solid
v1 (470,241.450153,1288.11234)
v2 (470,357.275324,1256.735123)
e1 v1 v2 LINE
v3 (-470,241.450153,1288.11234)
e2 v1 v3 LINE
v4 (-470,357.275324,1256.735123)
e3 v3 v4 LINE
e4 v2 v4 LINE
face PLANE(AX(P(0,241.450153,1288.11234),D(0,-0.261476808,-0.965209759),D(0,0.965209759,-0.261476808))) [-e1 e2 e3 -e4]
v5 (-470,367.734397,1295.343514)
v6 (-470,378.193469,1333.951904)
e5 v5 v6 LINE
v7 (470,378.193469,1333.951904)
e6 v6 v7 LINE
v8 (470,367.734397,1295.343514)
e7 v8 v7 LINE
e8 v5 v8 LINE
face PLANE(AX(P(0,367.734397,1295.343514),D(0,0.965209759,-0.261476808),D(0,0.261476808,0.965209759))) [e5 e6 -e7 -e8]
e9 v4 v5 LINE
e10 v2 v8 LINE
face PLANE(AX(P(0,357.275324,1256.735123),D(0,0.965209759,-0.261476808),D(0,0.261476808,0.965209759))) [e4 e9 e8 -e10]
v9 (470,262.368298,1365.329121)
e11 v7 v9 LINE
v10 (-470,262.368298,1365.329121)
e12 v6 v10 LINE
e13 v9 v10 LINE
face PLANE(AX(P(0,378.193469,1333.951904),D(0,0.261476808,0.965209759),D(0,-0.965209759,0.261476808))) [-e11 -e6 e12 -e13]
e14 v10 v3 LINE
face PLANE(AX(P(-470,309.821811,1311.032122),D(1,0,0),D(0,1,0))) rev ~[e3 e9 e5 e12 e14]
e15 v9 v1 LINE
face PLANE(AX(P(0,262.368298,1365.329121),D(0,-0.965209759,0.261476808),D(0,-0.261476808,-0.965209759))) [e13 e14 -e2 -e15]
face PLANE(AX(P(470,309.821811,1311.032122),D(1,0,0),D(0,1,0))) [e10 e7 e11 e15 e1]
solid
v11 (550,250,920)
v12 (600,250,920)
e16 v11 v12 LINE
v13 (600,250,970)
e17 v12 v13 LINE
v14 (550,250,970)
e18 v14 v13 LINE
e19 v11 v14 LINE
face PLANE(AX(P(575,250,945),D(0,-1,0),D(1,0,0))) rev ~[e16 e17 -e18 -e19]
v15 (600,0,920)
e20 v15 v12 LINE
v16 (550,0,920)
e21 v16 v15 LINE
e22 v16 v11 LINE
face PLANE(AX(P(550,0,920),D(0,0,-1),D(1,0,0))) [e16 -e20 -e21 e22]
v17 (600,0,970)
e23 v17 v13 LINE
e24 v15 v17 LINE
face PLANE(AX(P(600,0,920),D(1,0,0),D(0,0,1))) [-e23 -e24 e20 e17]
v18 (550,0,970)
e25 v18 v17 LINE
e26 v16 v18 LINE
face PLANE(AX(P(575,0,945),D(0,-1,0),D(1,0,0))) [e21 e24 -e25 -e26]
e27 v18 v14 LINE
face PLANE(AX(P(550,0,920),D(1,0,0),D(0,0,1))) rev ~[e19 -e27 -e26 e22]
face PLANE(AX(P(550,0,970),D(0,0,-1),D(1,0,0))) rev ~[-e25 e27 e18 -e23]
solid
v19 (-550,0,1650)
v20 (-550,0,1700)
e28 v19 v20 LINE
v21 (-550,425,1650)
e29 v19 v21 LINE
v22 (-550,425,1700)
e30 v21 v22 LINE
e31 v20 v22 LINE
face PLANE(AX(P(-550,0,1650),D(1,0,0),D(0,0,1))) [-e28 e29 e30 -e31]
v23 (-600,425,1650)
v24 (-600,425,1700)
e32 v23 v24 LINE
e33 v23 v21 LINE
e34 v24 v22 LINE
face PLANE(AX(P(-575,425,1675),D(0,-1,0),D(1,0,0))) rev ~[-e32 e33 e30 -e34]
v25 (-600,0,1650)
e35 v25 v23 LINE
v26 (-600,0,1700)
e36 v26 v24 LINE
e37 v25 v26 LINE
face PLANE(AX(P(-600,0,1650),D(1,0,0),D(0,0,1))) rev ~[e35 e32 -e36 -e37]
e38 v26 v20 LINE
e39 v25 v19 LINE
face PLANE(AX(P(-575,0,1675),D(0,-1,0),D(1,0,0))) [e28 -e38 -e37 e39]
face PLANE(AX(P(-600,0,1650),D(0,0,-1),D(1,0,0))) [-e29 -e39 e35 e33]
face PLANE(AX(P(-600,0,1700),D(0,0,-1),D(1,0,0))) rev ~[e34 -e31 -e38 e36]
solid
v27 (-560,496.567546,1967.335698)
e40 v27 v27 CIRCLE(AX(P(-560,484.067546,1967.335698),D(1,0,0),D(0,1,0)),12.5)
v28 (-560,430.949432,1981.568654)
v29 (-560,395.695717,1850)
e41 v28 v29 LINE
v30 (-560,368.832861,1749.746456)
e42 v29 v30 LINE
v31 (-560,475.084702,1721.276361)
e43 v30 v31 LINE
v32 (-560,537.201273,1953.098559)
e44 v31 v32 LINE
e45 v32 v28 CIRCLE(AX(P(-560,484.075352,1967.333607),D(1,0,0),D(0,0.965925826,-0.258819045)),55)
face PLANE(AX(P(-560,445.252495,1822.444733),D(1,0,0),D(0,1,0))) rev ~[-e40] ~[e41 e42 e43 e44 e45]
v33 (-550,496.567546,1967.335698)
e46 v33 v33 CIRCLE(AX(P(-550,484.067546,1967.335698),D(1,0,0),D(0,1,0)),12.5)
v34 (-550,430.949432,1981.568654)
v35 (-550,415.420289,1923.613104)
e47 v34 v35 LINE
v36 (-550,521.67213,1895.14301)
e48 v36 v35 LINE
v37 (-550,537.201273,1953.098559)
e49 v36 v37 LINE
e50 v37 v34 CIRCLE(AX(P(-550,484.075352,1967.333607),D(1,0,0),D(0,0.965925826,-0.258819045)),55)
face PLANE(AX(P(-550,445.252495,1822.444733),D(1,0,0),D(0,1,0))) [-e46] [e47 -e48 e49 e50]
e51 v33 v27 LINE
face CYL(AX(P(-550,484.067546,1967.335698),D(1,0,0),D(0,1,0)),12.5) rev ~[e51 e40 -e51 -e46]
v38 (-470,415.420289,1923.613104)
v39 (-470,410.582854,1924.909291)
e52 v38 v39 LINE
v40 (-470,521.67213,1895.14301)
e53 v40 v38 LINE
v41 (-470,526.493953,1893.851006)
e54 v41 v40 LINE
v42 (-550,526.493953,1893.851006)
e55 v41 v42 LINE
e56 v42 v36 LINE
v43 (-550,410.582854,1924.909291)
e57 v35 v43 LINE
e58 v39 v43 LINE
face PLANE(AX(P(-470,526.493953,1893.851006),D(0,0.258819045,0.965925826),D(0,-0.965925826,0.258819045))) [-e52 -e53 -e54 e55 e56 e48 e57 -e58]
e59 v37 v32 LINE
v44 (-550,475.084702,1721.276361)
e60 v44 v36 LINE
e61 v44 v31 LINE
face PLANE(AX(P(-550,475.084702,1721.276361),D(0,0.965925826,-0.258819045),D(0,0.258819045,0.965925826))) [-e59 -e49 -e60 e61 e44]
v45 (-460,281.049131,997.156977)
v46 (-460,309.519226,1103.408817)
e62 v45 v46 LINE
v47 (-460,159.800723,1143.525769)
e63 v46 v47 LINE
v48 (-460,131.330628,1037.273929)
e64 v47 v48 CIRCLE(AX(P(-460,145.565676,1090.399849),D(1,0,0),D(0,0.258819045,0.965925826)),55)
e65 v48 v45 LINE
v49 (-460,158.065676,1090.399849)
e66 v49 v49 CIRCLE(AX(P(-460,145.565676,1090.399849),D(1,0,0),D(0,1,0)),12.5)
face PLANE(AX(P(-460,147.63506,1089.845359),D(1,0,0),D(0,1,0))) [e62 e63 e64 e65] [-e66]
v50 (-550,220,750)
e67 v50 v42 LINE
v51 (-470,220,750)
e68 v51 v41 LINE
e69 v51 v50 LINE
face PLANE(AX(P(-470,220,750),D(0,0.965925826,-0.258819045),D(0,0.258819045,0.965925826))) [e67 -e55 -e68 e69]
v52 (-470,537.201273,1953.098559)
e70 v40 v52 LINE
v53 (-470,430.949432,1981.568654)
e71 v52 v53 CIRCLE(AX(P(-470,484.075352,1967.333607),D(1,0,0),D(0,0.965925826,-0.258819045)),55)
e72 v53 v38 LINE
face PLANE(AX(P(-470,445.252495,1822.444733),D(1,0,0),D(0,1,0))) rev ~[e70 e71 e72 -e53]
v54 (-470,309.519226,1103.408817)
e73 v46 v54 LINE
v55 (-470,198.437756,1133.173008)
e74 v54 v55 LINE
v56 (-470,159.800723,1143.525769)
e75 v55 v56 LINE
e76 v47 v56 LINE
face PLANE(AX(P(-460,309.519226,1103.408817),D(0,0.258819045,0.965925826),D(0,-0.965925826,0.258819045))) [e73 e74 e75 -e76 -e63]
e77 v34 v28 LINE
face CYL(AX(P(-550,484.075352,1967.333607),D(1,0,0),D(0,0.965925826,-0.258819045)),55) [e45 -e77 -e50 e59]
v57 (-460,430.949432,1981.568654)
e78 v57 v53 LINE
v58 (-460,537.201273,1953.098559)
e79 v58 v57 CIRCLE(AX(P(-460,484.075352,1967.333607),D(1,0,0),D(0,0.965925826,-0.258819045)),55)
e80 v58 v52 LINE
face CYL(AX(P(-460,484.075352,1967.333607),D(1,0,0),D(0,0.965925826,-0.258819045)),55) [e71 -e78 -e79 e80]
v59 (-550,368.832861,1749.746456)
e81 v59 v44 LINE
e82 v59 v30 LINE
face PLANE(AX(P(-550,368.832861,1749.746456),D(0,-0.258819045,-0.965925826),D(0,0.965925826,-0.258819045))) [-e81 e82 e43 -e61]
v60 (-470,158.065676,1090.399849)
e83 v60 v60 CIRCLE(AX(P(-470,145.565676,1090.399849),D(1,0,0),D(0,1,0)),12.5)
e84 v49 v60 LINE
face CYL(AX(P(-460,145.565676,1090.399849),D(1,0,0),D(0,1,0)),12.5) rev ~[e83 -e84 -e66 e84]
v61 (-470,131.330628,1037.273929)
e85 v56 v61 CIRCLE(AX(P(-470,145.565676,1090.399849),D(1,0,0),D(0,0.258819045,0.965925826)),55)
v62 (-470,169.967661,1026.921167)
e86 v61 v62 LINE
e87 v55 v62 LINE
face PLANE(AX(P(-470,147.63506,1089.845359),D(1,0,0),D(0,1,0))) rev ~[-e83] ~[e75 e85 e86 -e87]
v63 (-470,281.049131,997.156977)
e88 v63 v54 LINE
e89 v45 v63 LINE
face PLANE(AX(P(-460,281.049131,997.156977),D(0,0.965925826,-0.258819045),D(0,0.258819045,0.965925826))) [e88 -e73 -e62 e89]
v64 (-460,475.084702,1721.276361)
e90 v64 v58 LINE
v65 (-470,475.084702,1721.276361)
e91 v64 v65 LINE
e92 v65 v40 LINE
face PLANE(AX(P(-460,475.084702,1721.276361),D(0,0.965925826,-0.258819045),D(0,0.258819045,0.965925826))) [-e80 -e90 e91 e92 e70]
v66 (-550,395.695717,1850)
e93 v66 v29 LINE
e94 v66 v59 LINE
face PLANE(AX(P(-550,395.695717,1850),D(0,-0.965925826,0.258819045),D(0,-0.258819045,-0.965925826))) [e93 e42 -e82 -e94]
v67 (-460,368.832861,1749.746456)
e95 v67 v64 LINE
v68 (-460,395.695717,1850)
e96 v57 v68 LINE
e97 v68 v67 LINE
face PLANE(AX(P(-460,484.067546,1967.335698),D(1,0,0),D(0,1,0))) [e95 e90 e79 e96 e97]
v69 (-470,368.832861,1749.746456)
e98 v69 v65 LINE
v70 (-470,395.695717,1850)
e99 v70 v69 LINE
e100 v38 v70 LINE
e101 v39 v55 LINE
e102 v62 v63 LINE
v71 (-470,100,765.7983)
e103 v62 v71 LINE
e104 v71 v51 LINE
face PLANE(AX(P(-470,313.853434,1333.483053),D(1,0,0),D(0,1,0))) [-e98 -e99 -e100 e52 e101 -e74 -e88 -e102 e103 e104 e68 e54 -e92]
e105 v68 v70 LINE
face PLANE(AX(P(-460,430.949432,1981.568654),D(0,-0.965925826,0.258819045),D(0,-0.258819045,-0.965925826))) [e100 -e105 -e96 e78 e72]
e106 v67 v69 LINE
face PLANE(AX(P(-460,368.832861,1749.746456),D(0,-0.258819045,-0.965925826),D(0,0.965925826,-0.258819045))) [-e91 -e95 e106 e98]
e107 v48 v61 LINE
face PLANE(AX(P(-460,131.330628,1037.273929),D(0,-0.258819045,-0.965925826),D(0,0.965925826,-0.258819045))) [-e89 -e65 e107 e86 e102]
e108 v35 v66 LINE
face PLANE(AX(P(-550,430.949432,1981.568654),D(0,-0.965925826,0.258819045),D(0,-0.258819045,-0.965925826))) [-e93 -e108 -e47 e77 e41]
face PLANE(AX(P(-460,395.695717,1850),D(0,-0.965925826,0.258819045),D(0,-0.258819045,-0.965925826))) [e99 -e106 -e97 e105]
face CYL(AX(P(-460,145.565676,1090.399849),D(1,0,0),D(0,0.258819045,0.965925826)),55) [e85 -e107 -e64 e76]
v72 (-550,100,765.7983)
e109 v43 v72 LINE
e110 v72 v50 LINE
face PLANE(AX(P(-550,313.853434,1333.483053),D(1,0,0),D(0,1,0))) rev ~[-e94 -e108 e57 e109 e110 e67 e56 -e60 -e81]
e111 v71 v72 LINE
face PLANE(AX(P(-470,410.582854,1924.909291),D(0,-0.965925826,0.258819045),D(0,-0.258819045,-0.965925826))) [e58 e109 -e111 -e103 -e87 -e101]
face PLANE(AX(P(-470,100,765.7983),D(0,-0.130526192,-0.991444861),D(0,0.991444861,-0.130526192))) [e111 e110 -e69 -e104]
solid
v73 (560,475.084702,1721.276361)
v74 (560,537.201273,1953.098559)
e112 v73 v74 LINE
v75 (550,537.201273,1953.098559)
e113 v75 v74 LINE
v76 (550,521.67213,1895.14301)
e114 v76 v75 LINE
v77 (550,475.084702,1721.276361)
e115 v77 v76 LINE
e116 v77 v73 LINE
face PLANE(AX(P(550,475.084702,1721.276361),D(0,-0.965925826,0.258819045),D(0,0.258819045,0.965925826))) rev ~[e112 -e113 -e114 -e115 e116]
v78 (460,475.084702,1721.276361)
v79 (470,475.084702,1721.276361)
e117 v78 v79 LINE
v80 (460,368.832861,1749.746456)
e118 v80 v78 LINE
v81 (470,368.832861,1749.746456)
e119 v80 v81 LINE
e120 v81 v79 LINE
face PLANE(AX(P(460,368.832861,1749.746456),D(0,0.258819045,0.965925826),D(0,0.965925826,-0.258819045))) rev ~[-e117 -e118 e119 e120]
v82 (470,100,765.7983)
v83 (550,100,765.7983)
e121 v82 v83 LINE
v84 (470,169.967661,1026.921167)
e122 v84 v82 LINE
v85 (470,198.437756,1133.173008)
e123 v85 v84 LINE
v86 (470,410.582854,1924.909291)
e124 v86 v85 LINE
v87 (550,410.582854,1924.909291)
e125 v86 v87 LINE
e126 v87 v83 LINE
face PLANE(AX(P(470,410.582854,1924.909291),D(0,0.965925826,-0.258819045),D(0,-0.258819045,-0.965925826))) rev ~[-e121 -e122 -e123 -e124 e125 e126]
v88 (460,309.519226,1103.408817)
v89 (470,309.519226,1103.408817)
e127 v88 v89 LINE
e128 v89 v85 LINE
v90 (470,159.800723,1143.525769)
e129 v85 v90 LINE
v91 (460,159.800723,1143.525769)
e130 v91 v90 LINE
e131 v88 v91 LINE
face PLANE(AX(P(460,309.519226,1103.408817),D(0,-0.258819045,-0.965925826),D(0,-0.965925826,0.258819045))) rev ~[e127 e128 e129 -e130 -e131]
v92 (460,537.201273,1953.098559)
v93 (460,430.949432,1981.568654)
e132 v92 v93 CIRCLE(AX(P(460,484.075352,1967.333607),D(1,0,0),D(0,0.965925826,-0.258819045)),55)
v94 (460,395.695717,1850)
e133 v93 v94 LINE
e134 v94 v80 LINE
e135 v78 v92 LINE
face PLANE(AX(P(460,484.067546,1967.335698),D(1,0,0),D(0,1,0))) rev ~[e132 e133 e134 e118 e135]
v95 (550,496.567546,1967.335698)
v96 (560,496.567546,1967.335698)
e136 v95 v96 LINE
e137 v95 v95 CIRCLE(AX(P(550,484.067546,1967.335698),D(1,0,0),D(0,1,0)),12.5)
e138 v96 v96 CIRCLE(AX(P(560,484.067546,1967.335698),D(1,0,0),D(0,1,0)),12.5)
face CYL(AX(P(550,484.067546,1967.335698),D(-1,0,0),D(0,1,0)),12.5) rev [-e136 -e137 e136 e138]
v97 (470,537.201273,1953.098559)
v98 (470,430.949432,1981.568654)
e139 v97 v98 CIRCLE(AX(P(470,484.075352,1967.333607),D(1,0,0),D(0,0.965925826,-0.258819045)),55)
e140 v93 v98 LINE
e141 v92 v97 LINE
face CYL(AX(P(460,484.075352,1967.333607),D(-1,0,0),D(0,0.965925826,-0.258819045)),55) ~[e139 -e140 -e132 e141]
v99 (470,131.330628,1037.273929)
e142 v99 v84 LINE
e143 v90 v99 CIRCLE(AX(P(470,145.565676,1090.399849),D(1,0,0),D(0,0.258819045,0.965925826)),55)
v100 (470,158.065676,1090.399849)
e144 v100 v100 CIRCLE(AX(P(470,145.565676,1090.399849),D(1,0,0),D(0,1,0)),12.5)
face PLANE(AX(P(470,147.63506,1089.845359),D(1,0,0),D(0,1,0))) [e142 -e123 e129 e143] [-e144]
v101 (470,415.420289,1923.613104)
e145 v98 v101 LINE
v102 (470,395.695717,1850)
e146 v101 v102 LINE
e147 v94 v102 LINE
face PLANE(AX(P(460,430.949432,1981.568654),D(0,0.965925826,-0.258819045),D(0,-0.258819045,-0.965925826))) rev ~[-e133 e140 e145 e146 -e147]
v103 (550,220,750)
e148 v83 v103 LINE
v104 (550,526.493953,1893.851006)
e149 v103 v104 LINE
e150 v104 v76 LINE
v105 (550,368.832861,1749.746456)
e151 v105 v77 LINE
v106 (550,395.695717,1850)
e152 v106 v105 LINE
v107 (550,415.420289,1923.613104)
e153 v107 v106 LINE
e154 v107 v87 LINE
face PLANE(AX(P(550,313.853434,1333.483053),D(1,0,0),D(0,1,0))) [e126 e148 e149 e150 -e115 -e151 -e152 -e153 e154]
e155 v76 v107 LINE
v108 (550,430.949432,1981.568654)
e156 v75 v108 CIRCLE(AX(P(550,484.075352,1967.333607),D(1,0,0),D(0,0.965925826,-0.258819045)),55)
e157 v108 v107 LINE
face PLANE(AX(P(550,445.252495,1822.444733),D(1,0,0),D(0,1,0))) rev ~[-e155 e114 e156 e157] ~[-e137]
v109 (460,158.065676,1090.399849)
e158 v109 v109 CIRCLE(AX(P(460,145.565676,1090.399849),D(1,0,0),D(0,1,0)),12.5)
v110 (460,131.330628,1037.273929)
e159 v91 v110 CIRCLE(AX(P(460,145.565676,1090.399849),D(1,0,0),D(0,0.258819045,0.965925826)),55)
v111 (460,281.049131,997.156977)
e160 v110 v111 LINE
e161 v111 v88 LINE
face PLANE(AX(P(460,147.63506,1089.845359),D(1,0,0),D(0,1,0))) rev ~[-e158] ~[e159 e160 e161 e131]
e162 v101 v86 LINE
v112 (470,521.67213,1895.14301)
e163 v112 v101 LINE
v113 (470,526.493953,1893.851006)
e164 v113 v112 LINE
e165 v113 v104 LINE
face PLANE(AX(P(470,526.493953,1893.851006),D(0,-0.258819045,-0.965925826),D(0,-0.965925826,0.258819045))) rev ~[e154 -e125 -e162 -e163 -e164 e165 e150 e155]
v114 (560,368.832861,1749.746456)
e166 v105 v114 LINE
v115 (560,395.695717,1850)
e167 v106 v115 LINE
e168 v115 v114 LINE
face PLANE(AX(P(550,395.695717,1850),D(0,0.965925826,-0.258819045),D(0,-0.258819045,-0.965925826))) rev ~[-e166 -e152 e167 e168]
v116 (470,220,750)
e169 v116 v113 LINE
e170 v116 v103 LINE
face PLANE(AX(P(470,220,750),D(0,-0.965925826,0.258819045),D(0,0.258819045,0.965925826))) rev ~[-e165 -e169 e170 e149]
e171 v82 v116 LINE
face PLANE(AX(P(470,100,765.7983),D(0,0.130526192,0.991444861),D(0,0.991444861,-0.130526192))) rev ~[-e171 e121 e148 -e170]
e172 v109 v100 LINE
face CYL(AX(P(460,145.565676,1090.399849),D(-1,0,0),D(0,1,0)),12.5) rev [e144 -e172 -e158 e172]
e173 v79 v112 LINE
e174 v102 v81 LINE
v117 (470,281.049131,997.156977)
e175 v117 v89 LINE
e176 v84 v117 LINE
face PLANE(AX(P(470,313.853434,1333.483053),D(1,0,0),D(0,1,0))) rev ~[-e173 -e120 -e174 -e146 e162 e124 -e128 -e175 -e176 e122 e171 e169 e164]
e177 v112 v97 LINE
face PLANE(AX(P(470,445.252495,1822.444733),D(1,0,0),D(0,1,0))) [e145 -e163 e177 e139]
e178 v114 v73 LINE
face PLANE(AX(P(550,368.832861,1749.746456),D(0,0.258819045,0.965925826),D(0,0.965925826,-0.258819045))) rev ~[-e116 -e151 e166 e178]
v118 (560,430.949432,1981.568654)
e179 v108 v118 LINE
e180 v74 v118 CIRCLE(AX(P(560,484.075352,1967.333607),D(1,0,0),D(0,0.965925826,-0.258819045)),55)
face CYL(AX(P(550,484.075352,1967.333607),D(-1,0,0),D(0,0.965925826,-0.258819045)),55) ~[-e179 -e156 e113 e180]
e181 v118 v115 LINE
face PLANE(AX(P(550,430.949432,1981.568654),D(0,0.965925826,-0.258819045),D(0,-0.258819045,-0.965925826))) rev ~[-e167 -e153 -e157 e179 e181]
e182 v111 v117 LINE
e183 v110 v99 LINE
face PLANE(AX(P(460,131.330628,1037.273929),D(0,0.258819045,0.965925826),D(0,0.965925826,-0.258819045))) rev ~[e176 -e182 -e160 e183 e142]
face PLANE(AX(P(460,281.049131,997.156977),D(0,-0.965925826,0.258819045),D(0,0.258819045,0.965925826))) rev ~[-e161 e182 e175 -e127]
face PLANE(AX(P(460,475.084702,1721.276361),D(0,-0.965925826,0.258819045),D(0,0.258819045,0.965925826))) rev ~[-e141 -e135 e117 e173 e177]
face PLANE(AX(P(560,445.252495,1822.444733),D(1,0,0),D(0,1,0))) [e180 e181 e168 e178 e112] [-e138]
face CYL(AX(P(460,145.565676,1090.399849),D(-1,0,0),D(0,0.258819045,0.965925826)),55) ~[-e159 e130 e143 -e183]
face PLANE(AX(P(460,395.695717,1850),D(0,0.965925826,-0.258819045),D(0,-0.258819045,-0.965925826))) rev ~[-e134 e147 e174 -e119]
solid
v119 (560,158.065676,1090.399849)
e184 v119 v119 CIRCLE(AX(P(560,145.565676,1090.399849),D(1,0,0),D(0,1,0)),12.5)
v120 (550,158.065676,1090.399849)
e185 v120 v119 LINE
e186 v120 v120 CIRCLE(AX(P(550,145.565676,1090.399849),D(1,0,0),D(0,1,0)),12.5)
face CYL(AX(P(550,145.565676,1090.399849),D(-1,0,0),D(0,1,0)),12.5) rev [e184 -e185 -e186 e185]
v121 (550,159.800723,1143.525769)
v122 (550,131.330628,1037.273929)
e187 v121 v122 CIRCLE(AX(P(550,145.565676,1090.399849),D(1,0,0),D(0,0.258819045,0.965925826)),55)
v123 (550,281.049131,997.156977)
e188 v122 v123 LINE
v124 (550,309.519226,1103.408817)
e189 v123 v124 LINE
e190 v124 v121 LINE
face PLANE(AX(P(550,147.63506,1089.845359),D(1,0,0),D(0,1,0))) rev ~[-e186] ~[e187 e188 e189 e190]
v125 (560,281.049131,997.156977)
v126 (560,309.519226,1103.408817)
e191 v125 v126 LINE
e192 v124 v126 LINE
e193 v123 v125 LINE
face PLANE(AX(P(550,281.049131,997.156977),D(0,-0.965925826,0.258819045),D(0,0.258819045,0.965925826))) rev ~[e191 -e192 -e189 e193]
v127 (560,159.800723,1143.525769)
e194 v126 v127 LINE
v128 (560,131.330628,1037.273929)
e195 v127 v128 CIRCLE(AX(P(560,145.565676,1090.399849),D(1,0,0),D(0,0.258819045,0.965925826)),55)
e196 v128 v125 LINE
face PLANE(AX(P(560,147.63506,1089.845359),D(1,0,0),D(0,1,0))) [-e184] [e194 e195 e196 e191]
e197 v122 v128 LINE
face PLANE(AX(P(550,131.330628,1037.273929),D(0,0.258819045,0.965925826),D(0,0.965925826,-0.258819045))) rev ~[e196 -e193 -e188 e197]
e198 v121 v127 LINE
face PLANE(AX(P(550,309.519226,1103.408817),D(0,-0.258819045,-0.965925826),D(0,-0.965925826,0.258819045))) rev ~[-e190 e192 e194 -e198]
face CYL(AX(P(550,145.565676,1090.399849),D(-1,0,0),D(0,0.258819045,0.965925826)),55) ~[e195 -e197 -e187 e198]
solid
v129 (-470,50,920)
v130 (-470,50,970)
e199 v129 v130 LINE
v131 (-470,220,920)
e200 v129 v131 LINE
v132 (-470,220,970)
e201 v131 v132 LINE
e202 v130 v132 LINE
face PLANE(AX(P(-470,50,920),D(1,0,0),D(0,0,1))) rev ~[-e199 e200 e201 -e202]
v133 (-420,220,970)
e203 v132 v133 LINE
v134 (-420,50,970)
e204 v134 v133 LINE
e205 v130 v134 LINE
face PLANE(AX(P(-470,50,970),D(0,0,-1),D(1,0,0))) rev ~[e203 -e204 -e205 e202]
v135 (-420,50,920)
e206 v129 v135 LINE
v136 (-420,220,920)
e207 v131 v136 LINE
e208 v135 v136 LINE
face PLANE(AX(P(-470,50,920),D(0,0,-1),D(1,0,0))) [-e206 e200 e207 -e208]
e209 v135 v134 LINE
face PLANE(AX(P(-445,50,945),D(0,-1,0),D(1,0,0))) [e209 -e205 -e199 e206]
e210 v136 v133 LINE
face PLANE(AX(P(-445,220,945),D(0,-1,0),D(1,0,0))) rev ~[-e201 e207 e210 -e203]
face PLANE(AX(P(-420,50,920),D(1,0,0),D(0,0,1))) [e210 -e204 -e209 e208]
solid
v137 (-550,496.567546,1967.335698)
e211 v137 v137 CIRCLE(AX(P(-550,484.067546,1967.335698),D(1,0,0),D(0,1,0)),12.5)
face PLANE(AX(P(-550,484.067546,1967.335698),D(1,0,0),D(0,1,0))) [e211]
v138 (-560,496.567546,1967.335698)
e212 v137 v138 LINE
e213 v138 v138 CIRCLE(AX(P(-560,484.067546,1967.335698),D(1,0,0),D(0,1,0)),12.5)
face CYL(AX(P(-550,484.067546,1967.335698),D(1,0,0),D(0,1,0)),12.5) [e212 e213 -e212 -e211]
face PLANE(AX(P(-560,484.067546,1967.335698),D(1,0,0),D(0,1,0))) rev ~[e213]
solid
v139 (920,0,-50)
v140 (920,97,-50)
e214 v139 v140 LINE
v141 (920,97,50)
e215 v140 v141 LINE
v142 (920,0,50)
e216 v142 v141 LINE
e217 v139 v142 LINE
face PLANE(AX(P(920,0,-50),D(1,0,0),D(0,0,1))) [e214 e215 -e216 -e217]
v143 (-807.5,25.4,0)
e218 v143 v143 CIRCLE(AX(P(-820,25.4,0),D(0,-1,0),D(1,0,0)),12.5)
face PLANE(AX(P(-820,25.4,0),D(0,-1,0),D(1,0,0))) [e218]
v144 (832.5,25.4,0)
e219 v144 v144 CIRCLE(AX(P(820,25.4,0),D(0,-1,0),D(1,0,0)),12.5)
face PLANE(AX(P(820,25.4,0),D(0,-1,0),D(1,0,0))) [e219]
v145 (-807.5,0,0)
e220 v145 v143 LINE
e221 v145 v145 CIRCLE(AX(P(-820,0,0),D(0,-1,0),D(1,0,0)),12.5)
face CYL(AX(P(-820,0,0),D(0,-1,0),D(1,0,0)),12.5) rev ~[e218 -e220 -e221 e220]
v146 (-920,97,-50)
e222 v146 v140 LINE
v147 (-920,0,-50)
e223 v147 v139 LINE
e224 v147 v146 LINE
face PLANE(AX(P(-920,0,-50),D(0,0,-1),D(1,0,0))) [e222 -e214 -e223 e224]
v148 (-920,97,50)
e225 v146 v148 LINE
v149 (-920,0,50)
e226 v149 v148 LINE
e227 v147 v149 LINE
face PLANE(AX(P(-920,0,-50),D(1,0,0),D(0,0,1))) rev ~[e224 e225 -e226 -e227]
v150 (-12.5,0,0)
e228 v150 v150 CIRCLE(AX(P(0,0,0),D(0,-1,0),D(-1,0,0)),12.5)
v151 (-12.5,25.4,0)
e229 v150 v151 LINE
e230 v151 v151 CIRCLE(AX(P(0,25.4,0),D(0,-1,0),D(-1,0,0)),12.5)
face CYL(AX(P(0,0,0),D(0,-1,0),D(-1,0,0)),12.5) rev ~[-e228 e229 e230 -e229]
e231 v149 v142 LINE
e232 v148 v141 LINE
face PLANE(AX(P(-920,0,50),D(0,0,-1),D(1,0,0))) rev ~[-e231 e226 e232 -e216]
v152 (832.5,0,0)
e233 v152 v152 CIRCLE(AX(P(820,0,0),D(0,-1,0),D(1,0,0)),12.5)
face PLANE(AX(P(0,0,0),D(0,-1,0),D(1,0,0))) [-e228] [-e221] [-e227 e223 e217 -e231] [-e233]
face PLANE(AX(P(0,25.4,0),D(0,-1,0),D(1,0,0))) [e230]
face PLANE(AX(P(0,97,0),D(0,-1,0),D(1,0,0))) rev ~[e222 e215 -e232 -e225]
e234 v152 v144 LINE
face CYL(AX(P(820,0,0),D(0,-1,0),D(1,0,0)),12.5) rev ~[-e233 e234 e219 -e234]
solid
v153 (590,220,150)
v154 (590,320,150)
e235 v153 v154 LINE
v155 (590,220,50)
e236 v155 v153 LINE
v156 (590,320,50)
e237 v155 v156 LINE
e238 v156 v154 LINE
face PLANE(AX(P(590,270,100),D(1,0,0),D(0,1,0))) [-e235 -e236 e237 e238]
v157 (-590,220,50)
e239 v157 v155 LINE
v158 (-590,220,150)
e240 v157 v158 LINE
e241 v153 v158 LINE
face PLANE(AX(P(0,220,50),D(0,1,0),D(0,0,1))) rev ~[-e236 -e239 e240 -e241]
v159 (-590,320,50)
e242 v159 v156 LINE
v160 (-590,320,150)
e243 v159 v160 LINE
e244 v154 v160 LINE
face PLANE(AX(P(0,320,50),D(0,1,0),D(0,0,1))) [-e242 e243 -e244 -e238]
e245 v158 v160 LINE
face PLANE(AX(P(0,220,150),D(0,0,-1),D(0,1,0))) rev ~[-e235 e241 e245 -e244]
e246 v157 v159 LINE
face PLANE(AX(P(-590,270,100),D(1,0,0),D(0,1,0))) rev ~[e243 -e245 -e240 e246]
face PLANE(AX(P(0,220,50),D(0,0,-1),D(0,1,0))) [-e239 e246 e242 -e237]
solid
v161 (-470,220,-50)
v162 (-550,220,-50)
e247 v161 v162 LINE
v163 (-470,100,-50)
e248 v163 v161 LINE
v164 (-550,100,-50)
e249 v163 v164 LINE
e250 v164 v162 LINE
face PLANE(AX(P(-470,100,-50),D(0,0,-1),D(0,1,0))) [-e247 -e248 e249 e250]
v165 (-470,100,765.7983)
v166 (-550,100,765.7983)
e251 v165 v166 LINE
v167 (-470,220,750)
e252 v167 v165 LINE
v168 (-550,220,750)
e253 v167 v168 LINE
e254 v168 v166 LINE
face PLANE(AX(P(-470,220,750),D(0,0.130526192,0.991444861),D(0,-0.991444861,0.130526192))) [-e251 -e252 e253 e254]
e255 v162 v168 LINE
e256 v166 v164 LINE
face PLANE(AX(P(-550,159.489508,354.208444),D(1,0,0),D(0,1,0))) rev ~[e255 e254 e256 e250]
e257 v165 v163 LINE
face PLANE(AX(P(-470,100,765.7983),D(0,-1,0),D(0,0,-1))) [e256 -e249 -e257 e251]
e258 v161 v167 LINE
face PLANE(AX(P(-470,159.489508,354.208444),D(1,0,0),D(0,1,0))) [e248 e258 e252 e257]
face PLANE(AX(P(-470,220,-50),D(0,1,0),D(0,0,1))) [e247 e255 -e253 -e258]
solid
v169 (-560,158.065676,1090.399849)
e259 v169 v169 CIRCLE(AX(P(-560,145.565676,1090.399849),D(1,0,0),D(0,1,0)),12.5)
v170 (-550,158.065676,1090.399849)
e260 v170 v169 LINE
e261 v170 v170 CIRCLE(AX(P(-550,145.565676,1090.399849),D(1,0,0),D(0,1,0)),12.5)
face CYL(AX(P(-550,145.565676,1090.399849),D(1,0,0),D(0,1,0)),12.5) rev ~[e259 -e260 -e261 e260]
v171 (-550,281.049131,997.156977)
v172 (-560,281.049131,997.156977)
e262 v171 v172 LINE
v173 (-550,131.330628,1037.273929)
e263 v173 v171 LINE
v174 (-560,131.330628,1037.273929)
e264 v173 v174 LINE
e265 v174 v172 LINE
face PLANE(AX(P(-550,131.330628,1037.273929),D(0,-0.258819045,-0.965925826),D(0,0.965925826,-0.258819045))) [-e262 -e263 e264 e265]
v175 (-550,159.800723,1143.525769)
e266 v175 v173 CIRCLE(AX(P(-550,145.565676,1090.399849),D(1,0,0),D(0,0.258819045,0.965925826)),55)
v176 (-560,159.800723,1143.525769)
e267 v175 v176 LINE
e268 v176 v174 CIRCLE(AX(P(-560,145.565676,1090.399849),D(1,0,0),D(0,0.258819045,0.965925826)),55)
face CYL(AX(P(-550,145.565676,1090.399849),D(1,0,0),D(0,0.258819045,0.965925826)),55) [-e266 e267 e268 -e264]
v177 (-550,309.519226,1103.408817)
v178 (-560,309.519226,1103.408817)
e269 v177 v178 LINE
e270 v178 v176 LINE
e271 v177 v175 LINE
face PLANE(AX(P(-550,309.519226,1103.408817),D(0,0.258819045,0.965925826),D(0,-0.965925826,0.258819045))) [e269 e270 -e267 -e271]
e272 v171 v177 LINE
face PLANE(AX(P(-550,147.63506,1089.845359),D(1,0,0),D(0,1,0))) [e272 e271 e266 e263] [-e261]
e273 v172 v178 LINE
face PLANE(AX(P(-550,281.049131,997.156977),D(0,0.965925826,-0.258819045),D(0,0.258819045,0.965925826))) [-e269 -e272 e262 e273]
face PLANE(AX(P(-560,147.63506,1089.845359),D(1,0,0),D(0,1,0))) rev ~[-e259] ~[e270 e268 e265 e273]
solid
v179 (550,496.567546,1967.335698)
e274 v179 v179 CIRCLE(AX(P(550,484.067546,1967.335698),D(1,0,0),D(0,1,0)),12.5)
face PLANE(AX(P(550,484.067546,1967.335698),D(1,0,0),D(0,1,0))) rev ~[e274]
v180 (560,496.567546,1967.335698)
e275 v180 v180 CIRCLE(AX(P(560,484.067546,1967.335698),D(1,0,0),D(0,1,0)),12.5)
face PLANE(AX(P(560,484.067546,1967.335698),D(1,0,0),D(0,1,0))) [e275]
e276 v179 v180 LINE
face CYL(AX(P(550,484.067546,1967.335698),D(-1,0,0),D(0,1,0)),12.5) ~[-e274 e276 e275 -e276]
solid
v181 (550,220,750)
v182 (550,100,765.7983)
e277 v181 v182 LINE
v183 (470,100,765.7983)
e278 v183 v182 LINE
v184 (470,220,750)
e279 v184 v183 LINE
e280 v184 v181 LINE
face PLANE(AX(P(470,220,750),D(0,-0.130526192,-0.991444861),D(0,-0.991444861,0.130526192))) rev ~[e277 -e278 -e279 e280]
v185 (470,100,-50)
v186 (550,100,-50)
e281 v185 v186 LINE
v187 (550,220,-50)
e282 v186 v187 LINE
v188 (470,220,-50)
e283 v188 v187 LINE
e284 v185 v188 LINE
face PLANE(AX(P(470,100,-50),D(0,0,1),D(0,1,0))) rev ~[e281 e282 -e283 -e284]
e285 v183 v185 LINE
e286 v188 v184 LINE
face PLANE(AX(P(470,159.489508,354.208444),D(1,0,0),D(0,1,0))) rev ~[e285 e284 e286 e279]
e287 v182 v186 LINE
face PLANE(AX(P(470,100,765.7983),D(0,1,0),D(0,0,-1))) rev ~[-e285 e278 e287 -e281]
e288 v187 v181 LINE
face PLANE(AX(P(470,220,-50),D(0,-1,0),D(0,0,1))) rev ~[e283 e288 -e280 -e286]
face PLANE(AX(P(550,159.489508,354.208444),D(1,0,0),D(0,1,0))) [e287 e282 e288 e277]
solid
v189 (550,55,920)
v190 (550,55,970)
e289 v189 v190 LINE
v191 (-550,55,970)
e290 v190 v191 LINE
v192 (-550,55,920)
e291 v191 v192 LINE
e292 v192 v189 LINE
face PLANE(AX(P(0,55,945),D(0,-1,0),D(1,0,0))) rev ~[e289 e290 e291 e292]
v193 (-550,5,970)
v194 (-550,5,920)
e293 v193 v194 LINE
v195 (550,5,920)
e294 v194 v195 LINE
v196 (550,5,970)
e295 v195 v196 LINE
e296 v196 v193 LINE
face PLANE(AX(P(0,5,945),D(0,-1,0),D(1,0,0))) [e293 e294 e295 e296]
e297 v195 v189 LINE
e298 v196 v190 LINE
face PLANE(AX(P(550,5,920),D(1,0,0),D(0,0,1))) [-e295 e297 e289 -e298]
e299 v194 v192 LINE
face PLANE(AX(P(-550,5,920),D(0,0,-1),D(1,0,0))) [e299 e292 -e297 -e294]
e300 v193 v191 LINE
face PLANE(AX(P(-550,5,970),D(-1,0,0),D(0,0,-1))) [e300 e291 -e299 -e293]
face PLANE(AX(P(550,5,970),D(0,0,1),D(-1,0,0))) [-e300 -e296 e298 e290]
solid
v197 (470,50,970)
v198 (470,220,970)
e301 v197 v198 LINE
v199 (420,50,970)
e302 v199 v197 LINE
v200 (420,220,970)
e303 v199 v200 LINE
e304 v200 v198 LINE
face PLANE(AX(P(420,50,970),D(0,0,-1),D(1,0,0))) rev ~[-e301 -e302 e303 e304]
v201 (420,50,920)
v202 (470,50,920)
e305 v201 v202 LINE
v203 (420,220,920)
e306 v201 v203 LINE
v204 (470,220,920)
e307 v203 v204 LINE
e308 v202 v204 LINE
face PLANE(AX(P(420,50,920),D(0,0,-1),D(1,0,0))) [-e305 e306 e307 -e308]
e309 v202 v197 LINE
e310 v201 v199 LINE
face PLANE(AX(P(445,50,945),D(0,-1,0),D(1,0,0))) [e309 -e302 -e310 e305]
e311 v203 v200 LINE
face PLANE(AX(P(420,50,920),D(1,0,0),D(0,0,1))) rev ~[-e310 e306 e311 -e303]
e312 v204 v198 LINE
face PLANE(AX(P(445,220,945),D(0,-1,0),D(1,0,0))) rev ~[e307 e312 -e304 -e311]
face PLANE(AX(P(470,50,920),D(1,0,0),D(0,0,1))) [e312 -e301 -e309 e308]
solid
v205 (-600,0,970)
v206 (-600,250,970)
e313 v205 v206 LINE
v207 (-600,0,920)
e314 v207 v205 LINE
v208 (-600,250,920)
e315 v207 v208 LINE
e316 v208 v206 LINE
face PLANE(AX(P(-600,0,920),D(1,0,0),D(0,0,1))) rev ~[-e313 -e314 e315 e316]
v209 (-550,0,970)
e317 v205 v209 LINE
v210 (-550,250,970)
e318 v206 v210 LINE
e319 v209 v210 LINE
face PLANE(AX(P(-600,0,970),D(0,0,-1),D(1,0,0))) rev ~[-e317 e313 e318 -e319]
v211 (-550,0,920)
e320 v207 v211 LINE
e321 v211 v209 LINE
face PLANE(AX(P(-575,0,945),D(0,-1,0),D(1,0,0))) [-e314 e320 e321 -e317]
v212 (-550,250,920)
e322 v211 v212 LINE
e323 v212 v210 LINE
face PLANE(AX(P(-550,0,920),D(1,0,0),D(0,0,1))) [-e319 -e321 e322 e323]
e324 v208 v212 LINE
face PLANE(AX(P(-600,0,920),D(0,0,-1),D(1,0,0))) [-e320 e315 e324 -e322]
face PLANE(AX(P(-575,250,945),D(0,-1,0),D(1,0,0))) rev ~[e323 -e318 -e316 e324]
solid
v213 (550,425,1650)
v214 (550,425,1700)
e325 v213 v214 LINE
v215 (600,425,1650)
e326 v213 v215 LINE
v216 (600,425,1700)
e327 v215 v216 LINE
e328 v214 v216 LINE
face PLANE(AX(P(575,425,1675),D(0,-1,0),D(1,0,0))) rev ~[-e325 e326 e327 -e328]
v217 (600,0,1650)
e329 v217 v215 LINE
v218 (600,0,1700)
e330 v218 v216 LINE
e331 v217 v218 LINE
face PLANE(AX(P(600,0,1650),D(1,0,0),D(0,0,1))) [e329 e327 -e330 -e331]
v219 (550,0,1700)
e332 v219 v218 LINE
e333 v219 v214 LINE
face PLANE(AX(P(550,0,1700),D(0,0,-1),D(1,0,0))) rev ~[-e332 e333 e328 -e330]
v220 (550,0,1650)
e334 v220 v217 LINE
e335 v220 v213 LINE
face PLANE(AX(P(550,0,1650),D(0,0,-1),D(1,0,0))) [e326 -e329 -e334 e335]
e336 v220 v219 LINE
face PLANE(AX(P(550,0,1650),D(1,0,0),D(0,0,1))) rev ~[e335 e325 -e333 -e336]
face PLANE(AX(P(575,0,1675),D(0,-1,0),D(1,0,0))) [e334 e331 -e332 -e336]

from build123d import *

# Parameters (mm, degrees)
F0_W           = 1840
F0_H           = 100
F3_DEPTH       = 97
F4_START       = -5
F4_DEPTH       = 50
F5_R           = 12.5
F6_DEPTH       = 25.4
F7_W           = 50
F7_H           = 50
F8_DEPTH       = 250
F10_START      = -50
F9_W           = 50
F9_H           = 50
F10_DEPTH      = 170
F2_W           = 50
F2_H           = 50
F11_DEPTH      = 425
F13_START      = 470
F13_DEPTH      = 80
F15_START      = -470
F15_DEPTH      = 80
F17_START      = 470
F17_DEPTH      = 80
F18_START      = -470
F18_DEPTH      = 80
F20_START      = 550
F19_R          = 12.5
F20_DEPTH      = 10
F21_START      = 460
F21_DEPTH      = 10
F22_START      = -550
F22_DEPTH      = 10
F23_START      = -460
F23_DEPTH      = 10
F25_W          = 100
F25_H          = 100
F26_DEPTH      = 590
F26_DEPTH_BACK = 590
F27_START      = 550
F24_R          = 12.5
F27_DEPTH      = 10
F28_START      = 460
F28_DEPTH      = 10
F29_START      = -550
F29_DEPTH      = 10
F30_START      = -460
F30_DEPTH      = 10
F32_DEPTH      = 470
F32_DEPTH_BACK = 470


with BuildPart() as f3:
    # F0 (on Front) → F3 (new body)
    with BuildSketch(Plane.XZ):
        Rectangle(F0_W, F0_H)
    extrude(amount=-F3_DEPTH)

    # F5 (on Front) → F6 (cut)
    with BuildSketch(Plane.XZ):
        with Locations((-820, 0)):
            Circle(F5_R)
        with BuildLine():
            ThreePointArc((12.5, 0), (0, 12.5), (-12.5, 0))
            ThreePointArc((-12.5, 0), (0, -12.5), (12.5, 0))
        make_face()
        with Locations((820, 0)):
            Circle(F5_R)
    extrude(amount=-F6_DEPTH, mode=Mode.SUBTRACT)


with BuildPart() as f4:
    # F1 (on Front) → F4 (new body)
    with BuildSketch(Plane.XZ.offset(F4_START)):
        Polygon((550, 970), (-550, 970), (-550, 920), (0, 920), (550, 920), align=None)
    extrude(amount=-F4_DEPTH)


with BuildPart() as f8:
    # F7 (on Front) → F8 (new body)
    with BuildSketch(Plane.XZ):
        with Locations((-575, 945)):
            Rectangle(F7_W, F7_H)
    extrude(amount=-F8_DEPTH)


with BuildPart() as f8b:
    # F7 (on Front) → F8, piece 2 (new body)
    with BuildSketch(Plane.XZ):
        with Locations((575, 945)):
            Rectangle(F7_W, F7_H)
    extrude(amount=-F8_DEPTH)


with BuildPart() as f10:
    # F9 (on Front) → F10 (new body)
    with BuildSketch(Plane.XZ.offset(F10_START)):
        with Locations((-445, 945)):
            Rectangle(F9_W, F9_H)
    extrude(amount=-F10_DEPTH)


with BuildPart() as f10b:
    # F9 (on Front) → F10, piece 2 (new body)
    with BuildSketch(Plane.XZ.offset(F10_START)):
        with Locations((445, 945)):
            Rectangle(F9_W, F9_H)
    extrude(amount=-F10_DEPTH)


with BuildPart() as f11:
    # F2 (on Front) → F11 (new body)
    with BuildSketch(Plane.XZ):
        with Locations((-575, 1675)):
            Rectangle(F2_W, F2_H)
    extrude(amount=-F11_DEPTH)


with BuildPart() as f11b:
    # F2 (on Front) → F11, piece 2 (new body)
    with BuildSketch(Plane.XZ):
        with Locations((575, 1675)):
            Rectangle(F2_W, F2_H)
    extrude(amount=-F11_DEPTH)


with BuildPart() as f13:
    # F12 (on Right) → F13 (new body)
    with BuildSketch(Plane.YZ.offset(F13_START)):
        Polygon((100, 750), (100, 0), (100, -50), (220, -50), (220, 0), (220, 750), (100, 765.7982997105), align=None)
    extrude(amount=F13_DEPTH)


with BuildPart() as f15:
    # F14 (on Right) → F15 (new body)
    with BuildSketch(Plane.YZ.offset(F15_START)):
        Polygon((220, -50), (220, 0), (220, 750), (100, 765.7982997105), (100, 750), (100, 0), (100, -50), align=None)
    extrude(amount=-F15_DEPTH)


with BuildPart() as f17:
    # F16 (on Right) → F17 (new body)
    with BuildSketch(Plane.YZ.offset(F17_START)):
        Polygon((100, 765.7982997105), (220, 750), (526.4939532777, 1893.8510058451), (410.582854123, 1924.9092912574), align=None)
    extrude(amount=F17_DEPTH)

    # F19 (on Right) → F20 (join)
    with BuildSketch(Plane.YZ.offset(F20_START)):
        Polygon((475.0847018168, 1721.2763607837), (521.6721299352, 1895.1430095157), (415.4202890434, 1923.613104477), (395.6957171464, 1850), (368.832860925, 1749.746455745), align=None)
        with BuildLine():
            Line((415.4202890434, 1923.613104477), (521.6721299352, 1895.1430095157))
            Line((521.6721299352, 1895.1430095157), (537.2012726414, 1953.0985590931))
            ThreePointArc((537.2012726414, 1953.0985590931), (498.3103996761, 2020.4595270196), (430.9494317496, 1981.5686540544))
            Line((430.9494317496, 1981.5686540544), (415.4202890434, 1923.613104477))
        make_face()
        with Locations((484.0675464065, 1967.3356981286)):
            Circle(F19_R, mode=Mode.SUBTRACT)
    extrude(amount=F20_DEPTH)

    # F19 (on Right) → F21 (join)
    with BuildSketch(Plane.YZ.offset(F21_START)):
        Polygon((475.0847018168, 1721.2763607837), (521.6721299352, 1895.1430095157), (415.4202890434, 1923.613104477), (395.6957171464, 1850), (368.832860925, 1749.746455745), align=None)
        with BuildLine():
            Line((415.4202890434, 1923.613104477), (521.6721299352, 1895.1430095157))
            Line((521.6721299352, 1895.1430095157), (537.2012726414, 1953.0985590931))
            ThreePointArc((537.2012726414, 1953.0985590931), (498.3103996761, 2020.4595270196), (430.9494317496, 1981.5686540544))
            Line((430.9494317496, 1981.5686540544), (415.4202890434, 1923.613104477))
        make_face()
        with Locations((484.0675464065, 1967.3356981286)):
            Circle(F19_R, mode=Mode.SUBTRACT)
    extrude(amount=F21_DEPTH)

    # F24 (on Right) → F28 (join)
    with BuildSketch(Plane.YZ.offset(F28_START)):
        with Locations((484.0675464065, 1967.3356981286)):
            Circle(F24_R)
        with BuildLine():
            Line((131.330628284, 1037.2739285056), (169.9676613355, 1026.9211667015))
            Line((169.9676613355, 1026.9211667015), (198.4377562968, 1133.1730075933))
            Line((198.4377562968, 1133.1730075933), (159.8007232453, 1143.5257693974))
            ThreePointArc((159.8007232453, 1143.5257693974), (92.4397553187, 1104.6348964321), (131.330628284, 1037.2739285056))
        make_face()
        with Locations((145.5656757646, 1090.3998489515)):
            Circle(F24_R, mode=Mode.SUBTRACT)
        Polygon((198.4377562968, 1133.1730075933), (169.9676613355, 1026.9211667015), (281.0491313588, 997.1569765147), (309.5192263201, 1103.4088174065), align=None)
    extrude(amount=F28_DEPTH)


with BuildPart() as f18:
    # F16 (on Right) → F18 (new body)
    with BuildSketch(Plane.YZ.offset(F18_START)):
        Polygon((100, 765.7982997105), (220, 750), (526.4939532777, 1893.8510058451), (410.582854123, 1924.9092912574), align=None)
    extrude(amount=-F18_DEPTH)

    # F19 (on Right) → F22 (join)
    with BuildSketch(Plane.YZ.offset(F22_START)):
        Polygon((475.0847018168, 1721.2763607837), (521.6721299352, 1895.1430095157), (415.4202890434, 1923.613104477), (395.6957171464, 1850), (368.832860925, 1749.746455745), align=None)
        with BuildLine():
            Line((415.4202890434, 1923.613104477), (521.6721299352, 1895.1430095157))
            Line((521.6721299352, 1895.1430095157), (537.2012726414, 1953.0985590931))
            ThreePointArc((537.2012726414, 1953.0985590931), (498.3103996761, 2020.4595270196), (430.9494317496, 1981.5686540544))
            Line((430.9494317496, 1981.5686540544), (415.4202890434, 1923.613104477))
        make_face()
        with Locations((484.0675464065, 1967.3356981286)):
            Circle(F19_R, mode=Mode.SUBTRACT)
    extrude(amount=-F22_DEPTH)

    # F19 (on Right) → F23 (join)
    with BuildSketch(Plane.YZ.offset(F23_START)):
        Polygon((475.0847018168, 1721.2763607837), (521.6721299352, 1895.1430095157), (415.4202890434, 1923.613104477), (395.6957171464, 1850), (368.832860925, 1749.746455745), align=None)
        with BuildLine():
            Line((415.4202890434, 1923.613104477), (521.6721299352, 1895.1430095157))
            Line((521.6721299352, 1895.1430095157), (537.2012726414, 1953.0985590931))
            ThreePointArc((537.2012726414, 1953.0985590931), (498.3103996761, 2020.4595270196), (430.9494317496, 1981.5686540544))
            Line((430.9494317496, 1981.5686540544), (415.4202890434, 1923.613104477))
        make_face()
        with Locations((484.0675464065, 1967.3356981286)):
            Circle(F19_R, mode=Mode.SUBTRACT)
    extrude(amount=-F23_DEPTH)

    # F24 (on Right) → F30 (join)
    with BuildSketch(Plane.YZ.offset(F30_START)):
        with Locations((484.0675464065, 1967.3356981286)):
            Circle(F24_R)
        with BuildLine():
            Line((131.330628284, 1037.2739285056), (169.9676613355, 1026.9211667015))
            Line((169.9676613355, 1026.9211667015), (198.4377562968, 1133.1730075933))
            Line((198.4377562968, 1133.1730075933), (159.8007232453, 1143.5257693974))
            ThreePointArc((159.8007232453, 1143.5257693974), (92.4397553187, 1104.6348964321), (131.330628284, 1037.2739285056))
        make_face()
        with Locations((145.5656757646, 1090.3998489515)):
            Circle(F24_R, mode=Mode.SUBTRACT)
        Polygon((198.4377562968, 1133.1730075933), (169.9676613355, 1026.9211667015), (281.0491313588, 997.1569765147), (309.5192263201, 1103.4088174065), align=None)
    extrude(amount=-F30_DEPTH)


with BuildPart() as f26:
    # F25 (on Right) → F26 (new body, two sides)
    with BuildSketch(Plane.YZ) as f26_sk:
        with Locations((270, 100)):
            Rectangle(F25_W, F25_H)
    extrude(amount=F26_DEPTH)
    extrude(f26_sk.sketch, amount=-F26_DEPTH_BACK)


with BuildPart() as f27:
    # F24 (on Right) → F27 (new body)
    with BuildSketch(Plane.YZ.offset(F27_START)):
        with Locations((484.0675464065, 1967.3356981286)):
            Circle(F24_R)
    extrude(amount=F27_DEPTH)


with BuildPart() as f27b:
    # F24 (on Right) → F27, piece 2 (new body)
    with BuildSketch(Plane.YZ.offset(F27_START)):
        with BuildLine():
            Line((131.330628284, 1037.2739285056), (169.9676613355, 1026.9211667015))
            Line((169.9676613355, 1026.9211667015), (198.4377562968, 1133.1730075933))
            Line((198.4377562968, 1133.1730075933), (159.8007232453, 1143.5257693974))
            ThreePointArc((159.8007232453, 1143.5257693974), (92.4397553187, 1104.6348964321), (131.330628284, 1037.2739285056))
        make_face()
        with Locations((145.5656757646, 1090.3998489515)):
            Circle(F24_R, mode=Mode.SUBTRACT)
        Polygon((198.4377562968, 1133.1730075933), (169.9676613355, 1026.9211667015), (281.0491313588, 997.1569765147), (309.5192263201, 1103.4088174065), align=None)
    extrude(amount=F27_DEPTH)


with BuildPart() as f29:
    # F24 (on Right) → F29 (new body)
    with BuildSketch(Plane.YZ.offset(F29_START)):
        with Locations((484.0675464065, 1967.3356981286)):
            Circle(F24_R)
    extrude(amount=-F29_DEPTH)


with BuildPart() as f29b:
    # F24 (on Right) → F29, piece 2 (new body)
    with BuildSketch(Plane.YZ.offset(F29_START)):
        with BuildLine():
            Line((131.330628284, 1037.2739285056), (169.9676613355, 1026.9211667015))
            Line((169.9676613355, 1026.9211667015), (198.4377562968, 1133.1730075933))
            Line((198.4377562968, 1133.1730075933), (159.8007232453, 1143.5257693974))
            ThreePointArc((159.8007232453, 1143.5257693974), (92.4397553187, 1104.6348964321), (131.330628284, 1037.2739285056))
        make_face()
        with Locations((145.5656757646, 1090.3998489515)):
            Circle(F24_R, mode=Mode.SUBTRACT)
        Polygon((198.4377562968, 1133.1730075933), (169.9676613355, 1026.9211667015), (281.0491313588, 997.1569765147), (309.5192263201, 1103.4088174065), align=None)
    extrude(amount=-F29_DEPTH)


with BuildPart() as f32:
    # F31 (on Right) → F32 (new body, two sides)
    with BuildSketch(Plane.YZ) as f32_sk:
        Polygon((357.2753242756, 1256.7351234571), (367.7343966013, 1295.3435138157), (378.1934689271, 1333.9519041743), (262.3682978512, 1365.3291211516), (241.4501531997, 1288.1123404343), align=None)
    extrude(amount=F32_DEPTH)
    extrude(f32_sk.sketch, amount=-F32_DEPTH_BACK)


solid = Compound([f3.part, f4.part, f8.part, f8b.part, f10.part, f10b.part, f11.part, f11b.part, f13.part, f15.part, f17.part, f18.part, f26.part, f27.part, f27b.part, f29.part, f29b.part, f32.part])
